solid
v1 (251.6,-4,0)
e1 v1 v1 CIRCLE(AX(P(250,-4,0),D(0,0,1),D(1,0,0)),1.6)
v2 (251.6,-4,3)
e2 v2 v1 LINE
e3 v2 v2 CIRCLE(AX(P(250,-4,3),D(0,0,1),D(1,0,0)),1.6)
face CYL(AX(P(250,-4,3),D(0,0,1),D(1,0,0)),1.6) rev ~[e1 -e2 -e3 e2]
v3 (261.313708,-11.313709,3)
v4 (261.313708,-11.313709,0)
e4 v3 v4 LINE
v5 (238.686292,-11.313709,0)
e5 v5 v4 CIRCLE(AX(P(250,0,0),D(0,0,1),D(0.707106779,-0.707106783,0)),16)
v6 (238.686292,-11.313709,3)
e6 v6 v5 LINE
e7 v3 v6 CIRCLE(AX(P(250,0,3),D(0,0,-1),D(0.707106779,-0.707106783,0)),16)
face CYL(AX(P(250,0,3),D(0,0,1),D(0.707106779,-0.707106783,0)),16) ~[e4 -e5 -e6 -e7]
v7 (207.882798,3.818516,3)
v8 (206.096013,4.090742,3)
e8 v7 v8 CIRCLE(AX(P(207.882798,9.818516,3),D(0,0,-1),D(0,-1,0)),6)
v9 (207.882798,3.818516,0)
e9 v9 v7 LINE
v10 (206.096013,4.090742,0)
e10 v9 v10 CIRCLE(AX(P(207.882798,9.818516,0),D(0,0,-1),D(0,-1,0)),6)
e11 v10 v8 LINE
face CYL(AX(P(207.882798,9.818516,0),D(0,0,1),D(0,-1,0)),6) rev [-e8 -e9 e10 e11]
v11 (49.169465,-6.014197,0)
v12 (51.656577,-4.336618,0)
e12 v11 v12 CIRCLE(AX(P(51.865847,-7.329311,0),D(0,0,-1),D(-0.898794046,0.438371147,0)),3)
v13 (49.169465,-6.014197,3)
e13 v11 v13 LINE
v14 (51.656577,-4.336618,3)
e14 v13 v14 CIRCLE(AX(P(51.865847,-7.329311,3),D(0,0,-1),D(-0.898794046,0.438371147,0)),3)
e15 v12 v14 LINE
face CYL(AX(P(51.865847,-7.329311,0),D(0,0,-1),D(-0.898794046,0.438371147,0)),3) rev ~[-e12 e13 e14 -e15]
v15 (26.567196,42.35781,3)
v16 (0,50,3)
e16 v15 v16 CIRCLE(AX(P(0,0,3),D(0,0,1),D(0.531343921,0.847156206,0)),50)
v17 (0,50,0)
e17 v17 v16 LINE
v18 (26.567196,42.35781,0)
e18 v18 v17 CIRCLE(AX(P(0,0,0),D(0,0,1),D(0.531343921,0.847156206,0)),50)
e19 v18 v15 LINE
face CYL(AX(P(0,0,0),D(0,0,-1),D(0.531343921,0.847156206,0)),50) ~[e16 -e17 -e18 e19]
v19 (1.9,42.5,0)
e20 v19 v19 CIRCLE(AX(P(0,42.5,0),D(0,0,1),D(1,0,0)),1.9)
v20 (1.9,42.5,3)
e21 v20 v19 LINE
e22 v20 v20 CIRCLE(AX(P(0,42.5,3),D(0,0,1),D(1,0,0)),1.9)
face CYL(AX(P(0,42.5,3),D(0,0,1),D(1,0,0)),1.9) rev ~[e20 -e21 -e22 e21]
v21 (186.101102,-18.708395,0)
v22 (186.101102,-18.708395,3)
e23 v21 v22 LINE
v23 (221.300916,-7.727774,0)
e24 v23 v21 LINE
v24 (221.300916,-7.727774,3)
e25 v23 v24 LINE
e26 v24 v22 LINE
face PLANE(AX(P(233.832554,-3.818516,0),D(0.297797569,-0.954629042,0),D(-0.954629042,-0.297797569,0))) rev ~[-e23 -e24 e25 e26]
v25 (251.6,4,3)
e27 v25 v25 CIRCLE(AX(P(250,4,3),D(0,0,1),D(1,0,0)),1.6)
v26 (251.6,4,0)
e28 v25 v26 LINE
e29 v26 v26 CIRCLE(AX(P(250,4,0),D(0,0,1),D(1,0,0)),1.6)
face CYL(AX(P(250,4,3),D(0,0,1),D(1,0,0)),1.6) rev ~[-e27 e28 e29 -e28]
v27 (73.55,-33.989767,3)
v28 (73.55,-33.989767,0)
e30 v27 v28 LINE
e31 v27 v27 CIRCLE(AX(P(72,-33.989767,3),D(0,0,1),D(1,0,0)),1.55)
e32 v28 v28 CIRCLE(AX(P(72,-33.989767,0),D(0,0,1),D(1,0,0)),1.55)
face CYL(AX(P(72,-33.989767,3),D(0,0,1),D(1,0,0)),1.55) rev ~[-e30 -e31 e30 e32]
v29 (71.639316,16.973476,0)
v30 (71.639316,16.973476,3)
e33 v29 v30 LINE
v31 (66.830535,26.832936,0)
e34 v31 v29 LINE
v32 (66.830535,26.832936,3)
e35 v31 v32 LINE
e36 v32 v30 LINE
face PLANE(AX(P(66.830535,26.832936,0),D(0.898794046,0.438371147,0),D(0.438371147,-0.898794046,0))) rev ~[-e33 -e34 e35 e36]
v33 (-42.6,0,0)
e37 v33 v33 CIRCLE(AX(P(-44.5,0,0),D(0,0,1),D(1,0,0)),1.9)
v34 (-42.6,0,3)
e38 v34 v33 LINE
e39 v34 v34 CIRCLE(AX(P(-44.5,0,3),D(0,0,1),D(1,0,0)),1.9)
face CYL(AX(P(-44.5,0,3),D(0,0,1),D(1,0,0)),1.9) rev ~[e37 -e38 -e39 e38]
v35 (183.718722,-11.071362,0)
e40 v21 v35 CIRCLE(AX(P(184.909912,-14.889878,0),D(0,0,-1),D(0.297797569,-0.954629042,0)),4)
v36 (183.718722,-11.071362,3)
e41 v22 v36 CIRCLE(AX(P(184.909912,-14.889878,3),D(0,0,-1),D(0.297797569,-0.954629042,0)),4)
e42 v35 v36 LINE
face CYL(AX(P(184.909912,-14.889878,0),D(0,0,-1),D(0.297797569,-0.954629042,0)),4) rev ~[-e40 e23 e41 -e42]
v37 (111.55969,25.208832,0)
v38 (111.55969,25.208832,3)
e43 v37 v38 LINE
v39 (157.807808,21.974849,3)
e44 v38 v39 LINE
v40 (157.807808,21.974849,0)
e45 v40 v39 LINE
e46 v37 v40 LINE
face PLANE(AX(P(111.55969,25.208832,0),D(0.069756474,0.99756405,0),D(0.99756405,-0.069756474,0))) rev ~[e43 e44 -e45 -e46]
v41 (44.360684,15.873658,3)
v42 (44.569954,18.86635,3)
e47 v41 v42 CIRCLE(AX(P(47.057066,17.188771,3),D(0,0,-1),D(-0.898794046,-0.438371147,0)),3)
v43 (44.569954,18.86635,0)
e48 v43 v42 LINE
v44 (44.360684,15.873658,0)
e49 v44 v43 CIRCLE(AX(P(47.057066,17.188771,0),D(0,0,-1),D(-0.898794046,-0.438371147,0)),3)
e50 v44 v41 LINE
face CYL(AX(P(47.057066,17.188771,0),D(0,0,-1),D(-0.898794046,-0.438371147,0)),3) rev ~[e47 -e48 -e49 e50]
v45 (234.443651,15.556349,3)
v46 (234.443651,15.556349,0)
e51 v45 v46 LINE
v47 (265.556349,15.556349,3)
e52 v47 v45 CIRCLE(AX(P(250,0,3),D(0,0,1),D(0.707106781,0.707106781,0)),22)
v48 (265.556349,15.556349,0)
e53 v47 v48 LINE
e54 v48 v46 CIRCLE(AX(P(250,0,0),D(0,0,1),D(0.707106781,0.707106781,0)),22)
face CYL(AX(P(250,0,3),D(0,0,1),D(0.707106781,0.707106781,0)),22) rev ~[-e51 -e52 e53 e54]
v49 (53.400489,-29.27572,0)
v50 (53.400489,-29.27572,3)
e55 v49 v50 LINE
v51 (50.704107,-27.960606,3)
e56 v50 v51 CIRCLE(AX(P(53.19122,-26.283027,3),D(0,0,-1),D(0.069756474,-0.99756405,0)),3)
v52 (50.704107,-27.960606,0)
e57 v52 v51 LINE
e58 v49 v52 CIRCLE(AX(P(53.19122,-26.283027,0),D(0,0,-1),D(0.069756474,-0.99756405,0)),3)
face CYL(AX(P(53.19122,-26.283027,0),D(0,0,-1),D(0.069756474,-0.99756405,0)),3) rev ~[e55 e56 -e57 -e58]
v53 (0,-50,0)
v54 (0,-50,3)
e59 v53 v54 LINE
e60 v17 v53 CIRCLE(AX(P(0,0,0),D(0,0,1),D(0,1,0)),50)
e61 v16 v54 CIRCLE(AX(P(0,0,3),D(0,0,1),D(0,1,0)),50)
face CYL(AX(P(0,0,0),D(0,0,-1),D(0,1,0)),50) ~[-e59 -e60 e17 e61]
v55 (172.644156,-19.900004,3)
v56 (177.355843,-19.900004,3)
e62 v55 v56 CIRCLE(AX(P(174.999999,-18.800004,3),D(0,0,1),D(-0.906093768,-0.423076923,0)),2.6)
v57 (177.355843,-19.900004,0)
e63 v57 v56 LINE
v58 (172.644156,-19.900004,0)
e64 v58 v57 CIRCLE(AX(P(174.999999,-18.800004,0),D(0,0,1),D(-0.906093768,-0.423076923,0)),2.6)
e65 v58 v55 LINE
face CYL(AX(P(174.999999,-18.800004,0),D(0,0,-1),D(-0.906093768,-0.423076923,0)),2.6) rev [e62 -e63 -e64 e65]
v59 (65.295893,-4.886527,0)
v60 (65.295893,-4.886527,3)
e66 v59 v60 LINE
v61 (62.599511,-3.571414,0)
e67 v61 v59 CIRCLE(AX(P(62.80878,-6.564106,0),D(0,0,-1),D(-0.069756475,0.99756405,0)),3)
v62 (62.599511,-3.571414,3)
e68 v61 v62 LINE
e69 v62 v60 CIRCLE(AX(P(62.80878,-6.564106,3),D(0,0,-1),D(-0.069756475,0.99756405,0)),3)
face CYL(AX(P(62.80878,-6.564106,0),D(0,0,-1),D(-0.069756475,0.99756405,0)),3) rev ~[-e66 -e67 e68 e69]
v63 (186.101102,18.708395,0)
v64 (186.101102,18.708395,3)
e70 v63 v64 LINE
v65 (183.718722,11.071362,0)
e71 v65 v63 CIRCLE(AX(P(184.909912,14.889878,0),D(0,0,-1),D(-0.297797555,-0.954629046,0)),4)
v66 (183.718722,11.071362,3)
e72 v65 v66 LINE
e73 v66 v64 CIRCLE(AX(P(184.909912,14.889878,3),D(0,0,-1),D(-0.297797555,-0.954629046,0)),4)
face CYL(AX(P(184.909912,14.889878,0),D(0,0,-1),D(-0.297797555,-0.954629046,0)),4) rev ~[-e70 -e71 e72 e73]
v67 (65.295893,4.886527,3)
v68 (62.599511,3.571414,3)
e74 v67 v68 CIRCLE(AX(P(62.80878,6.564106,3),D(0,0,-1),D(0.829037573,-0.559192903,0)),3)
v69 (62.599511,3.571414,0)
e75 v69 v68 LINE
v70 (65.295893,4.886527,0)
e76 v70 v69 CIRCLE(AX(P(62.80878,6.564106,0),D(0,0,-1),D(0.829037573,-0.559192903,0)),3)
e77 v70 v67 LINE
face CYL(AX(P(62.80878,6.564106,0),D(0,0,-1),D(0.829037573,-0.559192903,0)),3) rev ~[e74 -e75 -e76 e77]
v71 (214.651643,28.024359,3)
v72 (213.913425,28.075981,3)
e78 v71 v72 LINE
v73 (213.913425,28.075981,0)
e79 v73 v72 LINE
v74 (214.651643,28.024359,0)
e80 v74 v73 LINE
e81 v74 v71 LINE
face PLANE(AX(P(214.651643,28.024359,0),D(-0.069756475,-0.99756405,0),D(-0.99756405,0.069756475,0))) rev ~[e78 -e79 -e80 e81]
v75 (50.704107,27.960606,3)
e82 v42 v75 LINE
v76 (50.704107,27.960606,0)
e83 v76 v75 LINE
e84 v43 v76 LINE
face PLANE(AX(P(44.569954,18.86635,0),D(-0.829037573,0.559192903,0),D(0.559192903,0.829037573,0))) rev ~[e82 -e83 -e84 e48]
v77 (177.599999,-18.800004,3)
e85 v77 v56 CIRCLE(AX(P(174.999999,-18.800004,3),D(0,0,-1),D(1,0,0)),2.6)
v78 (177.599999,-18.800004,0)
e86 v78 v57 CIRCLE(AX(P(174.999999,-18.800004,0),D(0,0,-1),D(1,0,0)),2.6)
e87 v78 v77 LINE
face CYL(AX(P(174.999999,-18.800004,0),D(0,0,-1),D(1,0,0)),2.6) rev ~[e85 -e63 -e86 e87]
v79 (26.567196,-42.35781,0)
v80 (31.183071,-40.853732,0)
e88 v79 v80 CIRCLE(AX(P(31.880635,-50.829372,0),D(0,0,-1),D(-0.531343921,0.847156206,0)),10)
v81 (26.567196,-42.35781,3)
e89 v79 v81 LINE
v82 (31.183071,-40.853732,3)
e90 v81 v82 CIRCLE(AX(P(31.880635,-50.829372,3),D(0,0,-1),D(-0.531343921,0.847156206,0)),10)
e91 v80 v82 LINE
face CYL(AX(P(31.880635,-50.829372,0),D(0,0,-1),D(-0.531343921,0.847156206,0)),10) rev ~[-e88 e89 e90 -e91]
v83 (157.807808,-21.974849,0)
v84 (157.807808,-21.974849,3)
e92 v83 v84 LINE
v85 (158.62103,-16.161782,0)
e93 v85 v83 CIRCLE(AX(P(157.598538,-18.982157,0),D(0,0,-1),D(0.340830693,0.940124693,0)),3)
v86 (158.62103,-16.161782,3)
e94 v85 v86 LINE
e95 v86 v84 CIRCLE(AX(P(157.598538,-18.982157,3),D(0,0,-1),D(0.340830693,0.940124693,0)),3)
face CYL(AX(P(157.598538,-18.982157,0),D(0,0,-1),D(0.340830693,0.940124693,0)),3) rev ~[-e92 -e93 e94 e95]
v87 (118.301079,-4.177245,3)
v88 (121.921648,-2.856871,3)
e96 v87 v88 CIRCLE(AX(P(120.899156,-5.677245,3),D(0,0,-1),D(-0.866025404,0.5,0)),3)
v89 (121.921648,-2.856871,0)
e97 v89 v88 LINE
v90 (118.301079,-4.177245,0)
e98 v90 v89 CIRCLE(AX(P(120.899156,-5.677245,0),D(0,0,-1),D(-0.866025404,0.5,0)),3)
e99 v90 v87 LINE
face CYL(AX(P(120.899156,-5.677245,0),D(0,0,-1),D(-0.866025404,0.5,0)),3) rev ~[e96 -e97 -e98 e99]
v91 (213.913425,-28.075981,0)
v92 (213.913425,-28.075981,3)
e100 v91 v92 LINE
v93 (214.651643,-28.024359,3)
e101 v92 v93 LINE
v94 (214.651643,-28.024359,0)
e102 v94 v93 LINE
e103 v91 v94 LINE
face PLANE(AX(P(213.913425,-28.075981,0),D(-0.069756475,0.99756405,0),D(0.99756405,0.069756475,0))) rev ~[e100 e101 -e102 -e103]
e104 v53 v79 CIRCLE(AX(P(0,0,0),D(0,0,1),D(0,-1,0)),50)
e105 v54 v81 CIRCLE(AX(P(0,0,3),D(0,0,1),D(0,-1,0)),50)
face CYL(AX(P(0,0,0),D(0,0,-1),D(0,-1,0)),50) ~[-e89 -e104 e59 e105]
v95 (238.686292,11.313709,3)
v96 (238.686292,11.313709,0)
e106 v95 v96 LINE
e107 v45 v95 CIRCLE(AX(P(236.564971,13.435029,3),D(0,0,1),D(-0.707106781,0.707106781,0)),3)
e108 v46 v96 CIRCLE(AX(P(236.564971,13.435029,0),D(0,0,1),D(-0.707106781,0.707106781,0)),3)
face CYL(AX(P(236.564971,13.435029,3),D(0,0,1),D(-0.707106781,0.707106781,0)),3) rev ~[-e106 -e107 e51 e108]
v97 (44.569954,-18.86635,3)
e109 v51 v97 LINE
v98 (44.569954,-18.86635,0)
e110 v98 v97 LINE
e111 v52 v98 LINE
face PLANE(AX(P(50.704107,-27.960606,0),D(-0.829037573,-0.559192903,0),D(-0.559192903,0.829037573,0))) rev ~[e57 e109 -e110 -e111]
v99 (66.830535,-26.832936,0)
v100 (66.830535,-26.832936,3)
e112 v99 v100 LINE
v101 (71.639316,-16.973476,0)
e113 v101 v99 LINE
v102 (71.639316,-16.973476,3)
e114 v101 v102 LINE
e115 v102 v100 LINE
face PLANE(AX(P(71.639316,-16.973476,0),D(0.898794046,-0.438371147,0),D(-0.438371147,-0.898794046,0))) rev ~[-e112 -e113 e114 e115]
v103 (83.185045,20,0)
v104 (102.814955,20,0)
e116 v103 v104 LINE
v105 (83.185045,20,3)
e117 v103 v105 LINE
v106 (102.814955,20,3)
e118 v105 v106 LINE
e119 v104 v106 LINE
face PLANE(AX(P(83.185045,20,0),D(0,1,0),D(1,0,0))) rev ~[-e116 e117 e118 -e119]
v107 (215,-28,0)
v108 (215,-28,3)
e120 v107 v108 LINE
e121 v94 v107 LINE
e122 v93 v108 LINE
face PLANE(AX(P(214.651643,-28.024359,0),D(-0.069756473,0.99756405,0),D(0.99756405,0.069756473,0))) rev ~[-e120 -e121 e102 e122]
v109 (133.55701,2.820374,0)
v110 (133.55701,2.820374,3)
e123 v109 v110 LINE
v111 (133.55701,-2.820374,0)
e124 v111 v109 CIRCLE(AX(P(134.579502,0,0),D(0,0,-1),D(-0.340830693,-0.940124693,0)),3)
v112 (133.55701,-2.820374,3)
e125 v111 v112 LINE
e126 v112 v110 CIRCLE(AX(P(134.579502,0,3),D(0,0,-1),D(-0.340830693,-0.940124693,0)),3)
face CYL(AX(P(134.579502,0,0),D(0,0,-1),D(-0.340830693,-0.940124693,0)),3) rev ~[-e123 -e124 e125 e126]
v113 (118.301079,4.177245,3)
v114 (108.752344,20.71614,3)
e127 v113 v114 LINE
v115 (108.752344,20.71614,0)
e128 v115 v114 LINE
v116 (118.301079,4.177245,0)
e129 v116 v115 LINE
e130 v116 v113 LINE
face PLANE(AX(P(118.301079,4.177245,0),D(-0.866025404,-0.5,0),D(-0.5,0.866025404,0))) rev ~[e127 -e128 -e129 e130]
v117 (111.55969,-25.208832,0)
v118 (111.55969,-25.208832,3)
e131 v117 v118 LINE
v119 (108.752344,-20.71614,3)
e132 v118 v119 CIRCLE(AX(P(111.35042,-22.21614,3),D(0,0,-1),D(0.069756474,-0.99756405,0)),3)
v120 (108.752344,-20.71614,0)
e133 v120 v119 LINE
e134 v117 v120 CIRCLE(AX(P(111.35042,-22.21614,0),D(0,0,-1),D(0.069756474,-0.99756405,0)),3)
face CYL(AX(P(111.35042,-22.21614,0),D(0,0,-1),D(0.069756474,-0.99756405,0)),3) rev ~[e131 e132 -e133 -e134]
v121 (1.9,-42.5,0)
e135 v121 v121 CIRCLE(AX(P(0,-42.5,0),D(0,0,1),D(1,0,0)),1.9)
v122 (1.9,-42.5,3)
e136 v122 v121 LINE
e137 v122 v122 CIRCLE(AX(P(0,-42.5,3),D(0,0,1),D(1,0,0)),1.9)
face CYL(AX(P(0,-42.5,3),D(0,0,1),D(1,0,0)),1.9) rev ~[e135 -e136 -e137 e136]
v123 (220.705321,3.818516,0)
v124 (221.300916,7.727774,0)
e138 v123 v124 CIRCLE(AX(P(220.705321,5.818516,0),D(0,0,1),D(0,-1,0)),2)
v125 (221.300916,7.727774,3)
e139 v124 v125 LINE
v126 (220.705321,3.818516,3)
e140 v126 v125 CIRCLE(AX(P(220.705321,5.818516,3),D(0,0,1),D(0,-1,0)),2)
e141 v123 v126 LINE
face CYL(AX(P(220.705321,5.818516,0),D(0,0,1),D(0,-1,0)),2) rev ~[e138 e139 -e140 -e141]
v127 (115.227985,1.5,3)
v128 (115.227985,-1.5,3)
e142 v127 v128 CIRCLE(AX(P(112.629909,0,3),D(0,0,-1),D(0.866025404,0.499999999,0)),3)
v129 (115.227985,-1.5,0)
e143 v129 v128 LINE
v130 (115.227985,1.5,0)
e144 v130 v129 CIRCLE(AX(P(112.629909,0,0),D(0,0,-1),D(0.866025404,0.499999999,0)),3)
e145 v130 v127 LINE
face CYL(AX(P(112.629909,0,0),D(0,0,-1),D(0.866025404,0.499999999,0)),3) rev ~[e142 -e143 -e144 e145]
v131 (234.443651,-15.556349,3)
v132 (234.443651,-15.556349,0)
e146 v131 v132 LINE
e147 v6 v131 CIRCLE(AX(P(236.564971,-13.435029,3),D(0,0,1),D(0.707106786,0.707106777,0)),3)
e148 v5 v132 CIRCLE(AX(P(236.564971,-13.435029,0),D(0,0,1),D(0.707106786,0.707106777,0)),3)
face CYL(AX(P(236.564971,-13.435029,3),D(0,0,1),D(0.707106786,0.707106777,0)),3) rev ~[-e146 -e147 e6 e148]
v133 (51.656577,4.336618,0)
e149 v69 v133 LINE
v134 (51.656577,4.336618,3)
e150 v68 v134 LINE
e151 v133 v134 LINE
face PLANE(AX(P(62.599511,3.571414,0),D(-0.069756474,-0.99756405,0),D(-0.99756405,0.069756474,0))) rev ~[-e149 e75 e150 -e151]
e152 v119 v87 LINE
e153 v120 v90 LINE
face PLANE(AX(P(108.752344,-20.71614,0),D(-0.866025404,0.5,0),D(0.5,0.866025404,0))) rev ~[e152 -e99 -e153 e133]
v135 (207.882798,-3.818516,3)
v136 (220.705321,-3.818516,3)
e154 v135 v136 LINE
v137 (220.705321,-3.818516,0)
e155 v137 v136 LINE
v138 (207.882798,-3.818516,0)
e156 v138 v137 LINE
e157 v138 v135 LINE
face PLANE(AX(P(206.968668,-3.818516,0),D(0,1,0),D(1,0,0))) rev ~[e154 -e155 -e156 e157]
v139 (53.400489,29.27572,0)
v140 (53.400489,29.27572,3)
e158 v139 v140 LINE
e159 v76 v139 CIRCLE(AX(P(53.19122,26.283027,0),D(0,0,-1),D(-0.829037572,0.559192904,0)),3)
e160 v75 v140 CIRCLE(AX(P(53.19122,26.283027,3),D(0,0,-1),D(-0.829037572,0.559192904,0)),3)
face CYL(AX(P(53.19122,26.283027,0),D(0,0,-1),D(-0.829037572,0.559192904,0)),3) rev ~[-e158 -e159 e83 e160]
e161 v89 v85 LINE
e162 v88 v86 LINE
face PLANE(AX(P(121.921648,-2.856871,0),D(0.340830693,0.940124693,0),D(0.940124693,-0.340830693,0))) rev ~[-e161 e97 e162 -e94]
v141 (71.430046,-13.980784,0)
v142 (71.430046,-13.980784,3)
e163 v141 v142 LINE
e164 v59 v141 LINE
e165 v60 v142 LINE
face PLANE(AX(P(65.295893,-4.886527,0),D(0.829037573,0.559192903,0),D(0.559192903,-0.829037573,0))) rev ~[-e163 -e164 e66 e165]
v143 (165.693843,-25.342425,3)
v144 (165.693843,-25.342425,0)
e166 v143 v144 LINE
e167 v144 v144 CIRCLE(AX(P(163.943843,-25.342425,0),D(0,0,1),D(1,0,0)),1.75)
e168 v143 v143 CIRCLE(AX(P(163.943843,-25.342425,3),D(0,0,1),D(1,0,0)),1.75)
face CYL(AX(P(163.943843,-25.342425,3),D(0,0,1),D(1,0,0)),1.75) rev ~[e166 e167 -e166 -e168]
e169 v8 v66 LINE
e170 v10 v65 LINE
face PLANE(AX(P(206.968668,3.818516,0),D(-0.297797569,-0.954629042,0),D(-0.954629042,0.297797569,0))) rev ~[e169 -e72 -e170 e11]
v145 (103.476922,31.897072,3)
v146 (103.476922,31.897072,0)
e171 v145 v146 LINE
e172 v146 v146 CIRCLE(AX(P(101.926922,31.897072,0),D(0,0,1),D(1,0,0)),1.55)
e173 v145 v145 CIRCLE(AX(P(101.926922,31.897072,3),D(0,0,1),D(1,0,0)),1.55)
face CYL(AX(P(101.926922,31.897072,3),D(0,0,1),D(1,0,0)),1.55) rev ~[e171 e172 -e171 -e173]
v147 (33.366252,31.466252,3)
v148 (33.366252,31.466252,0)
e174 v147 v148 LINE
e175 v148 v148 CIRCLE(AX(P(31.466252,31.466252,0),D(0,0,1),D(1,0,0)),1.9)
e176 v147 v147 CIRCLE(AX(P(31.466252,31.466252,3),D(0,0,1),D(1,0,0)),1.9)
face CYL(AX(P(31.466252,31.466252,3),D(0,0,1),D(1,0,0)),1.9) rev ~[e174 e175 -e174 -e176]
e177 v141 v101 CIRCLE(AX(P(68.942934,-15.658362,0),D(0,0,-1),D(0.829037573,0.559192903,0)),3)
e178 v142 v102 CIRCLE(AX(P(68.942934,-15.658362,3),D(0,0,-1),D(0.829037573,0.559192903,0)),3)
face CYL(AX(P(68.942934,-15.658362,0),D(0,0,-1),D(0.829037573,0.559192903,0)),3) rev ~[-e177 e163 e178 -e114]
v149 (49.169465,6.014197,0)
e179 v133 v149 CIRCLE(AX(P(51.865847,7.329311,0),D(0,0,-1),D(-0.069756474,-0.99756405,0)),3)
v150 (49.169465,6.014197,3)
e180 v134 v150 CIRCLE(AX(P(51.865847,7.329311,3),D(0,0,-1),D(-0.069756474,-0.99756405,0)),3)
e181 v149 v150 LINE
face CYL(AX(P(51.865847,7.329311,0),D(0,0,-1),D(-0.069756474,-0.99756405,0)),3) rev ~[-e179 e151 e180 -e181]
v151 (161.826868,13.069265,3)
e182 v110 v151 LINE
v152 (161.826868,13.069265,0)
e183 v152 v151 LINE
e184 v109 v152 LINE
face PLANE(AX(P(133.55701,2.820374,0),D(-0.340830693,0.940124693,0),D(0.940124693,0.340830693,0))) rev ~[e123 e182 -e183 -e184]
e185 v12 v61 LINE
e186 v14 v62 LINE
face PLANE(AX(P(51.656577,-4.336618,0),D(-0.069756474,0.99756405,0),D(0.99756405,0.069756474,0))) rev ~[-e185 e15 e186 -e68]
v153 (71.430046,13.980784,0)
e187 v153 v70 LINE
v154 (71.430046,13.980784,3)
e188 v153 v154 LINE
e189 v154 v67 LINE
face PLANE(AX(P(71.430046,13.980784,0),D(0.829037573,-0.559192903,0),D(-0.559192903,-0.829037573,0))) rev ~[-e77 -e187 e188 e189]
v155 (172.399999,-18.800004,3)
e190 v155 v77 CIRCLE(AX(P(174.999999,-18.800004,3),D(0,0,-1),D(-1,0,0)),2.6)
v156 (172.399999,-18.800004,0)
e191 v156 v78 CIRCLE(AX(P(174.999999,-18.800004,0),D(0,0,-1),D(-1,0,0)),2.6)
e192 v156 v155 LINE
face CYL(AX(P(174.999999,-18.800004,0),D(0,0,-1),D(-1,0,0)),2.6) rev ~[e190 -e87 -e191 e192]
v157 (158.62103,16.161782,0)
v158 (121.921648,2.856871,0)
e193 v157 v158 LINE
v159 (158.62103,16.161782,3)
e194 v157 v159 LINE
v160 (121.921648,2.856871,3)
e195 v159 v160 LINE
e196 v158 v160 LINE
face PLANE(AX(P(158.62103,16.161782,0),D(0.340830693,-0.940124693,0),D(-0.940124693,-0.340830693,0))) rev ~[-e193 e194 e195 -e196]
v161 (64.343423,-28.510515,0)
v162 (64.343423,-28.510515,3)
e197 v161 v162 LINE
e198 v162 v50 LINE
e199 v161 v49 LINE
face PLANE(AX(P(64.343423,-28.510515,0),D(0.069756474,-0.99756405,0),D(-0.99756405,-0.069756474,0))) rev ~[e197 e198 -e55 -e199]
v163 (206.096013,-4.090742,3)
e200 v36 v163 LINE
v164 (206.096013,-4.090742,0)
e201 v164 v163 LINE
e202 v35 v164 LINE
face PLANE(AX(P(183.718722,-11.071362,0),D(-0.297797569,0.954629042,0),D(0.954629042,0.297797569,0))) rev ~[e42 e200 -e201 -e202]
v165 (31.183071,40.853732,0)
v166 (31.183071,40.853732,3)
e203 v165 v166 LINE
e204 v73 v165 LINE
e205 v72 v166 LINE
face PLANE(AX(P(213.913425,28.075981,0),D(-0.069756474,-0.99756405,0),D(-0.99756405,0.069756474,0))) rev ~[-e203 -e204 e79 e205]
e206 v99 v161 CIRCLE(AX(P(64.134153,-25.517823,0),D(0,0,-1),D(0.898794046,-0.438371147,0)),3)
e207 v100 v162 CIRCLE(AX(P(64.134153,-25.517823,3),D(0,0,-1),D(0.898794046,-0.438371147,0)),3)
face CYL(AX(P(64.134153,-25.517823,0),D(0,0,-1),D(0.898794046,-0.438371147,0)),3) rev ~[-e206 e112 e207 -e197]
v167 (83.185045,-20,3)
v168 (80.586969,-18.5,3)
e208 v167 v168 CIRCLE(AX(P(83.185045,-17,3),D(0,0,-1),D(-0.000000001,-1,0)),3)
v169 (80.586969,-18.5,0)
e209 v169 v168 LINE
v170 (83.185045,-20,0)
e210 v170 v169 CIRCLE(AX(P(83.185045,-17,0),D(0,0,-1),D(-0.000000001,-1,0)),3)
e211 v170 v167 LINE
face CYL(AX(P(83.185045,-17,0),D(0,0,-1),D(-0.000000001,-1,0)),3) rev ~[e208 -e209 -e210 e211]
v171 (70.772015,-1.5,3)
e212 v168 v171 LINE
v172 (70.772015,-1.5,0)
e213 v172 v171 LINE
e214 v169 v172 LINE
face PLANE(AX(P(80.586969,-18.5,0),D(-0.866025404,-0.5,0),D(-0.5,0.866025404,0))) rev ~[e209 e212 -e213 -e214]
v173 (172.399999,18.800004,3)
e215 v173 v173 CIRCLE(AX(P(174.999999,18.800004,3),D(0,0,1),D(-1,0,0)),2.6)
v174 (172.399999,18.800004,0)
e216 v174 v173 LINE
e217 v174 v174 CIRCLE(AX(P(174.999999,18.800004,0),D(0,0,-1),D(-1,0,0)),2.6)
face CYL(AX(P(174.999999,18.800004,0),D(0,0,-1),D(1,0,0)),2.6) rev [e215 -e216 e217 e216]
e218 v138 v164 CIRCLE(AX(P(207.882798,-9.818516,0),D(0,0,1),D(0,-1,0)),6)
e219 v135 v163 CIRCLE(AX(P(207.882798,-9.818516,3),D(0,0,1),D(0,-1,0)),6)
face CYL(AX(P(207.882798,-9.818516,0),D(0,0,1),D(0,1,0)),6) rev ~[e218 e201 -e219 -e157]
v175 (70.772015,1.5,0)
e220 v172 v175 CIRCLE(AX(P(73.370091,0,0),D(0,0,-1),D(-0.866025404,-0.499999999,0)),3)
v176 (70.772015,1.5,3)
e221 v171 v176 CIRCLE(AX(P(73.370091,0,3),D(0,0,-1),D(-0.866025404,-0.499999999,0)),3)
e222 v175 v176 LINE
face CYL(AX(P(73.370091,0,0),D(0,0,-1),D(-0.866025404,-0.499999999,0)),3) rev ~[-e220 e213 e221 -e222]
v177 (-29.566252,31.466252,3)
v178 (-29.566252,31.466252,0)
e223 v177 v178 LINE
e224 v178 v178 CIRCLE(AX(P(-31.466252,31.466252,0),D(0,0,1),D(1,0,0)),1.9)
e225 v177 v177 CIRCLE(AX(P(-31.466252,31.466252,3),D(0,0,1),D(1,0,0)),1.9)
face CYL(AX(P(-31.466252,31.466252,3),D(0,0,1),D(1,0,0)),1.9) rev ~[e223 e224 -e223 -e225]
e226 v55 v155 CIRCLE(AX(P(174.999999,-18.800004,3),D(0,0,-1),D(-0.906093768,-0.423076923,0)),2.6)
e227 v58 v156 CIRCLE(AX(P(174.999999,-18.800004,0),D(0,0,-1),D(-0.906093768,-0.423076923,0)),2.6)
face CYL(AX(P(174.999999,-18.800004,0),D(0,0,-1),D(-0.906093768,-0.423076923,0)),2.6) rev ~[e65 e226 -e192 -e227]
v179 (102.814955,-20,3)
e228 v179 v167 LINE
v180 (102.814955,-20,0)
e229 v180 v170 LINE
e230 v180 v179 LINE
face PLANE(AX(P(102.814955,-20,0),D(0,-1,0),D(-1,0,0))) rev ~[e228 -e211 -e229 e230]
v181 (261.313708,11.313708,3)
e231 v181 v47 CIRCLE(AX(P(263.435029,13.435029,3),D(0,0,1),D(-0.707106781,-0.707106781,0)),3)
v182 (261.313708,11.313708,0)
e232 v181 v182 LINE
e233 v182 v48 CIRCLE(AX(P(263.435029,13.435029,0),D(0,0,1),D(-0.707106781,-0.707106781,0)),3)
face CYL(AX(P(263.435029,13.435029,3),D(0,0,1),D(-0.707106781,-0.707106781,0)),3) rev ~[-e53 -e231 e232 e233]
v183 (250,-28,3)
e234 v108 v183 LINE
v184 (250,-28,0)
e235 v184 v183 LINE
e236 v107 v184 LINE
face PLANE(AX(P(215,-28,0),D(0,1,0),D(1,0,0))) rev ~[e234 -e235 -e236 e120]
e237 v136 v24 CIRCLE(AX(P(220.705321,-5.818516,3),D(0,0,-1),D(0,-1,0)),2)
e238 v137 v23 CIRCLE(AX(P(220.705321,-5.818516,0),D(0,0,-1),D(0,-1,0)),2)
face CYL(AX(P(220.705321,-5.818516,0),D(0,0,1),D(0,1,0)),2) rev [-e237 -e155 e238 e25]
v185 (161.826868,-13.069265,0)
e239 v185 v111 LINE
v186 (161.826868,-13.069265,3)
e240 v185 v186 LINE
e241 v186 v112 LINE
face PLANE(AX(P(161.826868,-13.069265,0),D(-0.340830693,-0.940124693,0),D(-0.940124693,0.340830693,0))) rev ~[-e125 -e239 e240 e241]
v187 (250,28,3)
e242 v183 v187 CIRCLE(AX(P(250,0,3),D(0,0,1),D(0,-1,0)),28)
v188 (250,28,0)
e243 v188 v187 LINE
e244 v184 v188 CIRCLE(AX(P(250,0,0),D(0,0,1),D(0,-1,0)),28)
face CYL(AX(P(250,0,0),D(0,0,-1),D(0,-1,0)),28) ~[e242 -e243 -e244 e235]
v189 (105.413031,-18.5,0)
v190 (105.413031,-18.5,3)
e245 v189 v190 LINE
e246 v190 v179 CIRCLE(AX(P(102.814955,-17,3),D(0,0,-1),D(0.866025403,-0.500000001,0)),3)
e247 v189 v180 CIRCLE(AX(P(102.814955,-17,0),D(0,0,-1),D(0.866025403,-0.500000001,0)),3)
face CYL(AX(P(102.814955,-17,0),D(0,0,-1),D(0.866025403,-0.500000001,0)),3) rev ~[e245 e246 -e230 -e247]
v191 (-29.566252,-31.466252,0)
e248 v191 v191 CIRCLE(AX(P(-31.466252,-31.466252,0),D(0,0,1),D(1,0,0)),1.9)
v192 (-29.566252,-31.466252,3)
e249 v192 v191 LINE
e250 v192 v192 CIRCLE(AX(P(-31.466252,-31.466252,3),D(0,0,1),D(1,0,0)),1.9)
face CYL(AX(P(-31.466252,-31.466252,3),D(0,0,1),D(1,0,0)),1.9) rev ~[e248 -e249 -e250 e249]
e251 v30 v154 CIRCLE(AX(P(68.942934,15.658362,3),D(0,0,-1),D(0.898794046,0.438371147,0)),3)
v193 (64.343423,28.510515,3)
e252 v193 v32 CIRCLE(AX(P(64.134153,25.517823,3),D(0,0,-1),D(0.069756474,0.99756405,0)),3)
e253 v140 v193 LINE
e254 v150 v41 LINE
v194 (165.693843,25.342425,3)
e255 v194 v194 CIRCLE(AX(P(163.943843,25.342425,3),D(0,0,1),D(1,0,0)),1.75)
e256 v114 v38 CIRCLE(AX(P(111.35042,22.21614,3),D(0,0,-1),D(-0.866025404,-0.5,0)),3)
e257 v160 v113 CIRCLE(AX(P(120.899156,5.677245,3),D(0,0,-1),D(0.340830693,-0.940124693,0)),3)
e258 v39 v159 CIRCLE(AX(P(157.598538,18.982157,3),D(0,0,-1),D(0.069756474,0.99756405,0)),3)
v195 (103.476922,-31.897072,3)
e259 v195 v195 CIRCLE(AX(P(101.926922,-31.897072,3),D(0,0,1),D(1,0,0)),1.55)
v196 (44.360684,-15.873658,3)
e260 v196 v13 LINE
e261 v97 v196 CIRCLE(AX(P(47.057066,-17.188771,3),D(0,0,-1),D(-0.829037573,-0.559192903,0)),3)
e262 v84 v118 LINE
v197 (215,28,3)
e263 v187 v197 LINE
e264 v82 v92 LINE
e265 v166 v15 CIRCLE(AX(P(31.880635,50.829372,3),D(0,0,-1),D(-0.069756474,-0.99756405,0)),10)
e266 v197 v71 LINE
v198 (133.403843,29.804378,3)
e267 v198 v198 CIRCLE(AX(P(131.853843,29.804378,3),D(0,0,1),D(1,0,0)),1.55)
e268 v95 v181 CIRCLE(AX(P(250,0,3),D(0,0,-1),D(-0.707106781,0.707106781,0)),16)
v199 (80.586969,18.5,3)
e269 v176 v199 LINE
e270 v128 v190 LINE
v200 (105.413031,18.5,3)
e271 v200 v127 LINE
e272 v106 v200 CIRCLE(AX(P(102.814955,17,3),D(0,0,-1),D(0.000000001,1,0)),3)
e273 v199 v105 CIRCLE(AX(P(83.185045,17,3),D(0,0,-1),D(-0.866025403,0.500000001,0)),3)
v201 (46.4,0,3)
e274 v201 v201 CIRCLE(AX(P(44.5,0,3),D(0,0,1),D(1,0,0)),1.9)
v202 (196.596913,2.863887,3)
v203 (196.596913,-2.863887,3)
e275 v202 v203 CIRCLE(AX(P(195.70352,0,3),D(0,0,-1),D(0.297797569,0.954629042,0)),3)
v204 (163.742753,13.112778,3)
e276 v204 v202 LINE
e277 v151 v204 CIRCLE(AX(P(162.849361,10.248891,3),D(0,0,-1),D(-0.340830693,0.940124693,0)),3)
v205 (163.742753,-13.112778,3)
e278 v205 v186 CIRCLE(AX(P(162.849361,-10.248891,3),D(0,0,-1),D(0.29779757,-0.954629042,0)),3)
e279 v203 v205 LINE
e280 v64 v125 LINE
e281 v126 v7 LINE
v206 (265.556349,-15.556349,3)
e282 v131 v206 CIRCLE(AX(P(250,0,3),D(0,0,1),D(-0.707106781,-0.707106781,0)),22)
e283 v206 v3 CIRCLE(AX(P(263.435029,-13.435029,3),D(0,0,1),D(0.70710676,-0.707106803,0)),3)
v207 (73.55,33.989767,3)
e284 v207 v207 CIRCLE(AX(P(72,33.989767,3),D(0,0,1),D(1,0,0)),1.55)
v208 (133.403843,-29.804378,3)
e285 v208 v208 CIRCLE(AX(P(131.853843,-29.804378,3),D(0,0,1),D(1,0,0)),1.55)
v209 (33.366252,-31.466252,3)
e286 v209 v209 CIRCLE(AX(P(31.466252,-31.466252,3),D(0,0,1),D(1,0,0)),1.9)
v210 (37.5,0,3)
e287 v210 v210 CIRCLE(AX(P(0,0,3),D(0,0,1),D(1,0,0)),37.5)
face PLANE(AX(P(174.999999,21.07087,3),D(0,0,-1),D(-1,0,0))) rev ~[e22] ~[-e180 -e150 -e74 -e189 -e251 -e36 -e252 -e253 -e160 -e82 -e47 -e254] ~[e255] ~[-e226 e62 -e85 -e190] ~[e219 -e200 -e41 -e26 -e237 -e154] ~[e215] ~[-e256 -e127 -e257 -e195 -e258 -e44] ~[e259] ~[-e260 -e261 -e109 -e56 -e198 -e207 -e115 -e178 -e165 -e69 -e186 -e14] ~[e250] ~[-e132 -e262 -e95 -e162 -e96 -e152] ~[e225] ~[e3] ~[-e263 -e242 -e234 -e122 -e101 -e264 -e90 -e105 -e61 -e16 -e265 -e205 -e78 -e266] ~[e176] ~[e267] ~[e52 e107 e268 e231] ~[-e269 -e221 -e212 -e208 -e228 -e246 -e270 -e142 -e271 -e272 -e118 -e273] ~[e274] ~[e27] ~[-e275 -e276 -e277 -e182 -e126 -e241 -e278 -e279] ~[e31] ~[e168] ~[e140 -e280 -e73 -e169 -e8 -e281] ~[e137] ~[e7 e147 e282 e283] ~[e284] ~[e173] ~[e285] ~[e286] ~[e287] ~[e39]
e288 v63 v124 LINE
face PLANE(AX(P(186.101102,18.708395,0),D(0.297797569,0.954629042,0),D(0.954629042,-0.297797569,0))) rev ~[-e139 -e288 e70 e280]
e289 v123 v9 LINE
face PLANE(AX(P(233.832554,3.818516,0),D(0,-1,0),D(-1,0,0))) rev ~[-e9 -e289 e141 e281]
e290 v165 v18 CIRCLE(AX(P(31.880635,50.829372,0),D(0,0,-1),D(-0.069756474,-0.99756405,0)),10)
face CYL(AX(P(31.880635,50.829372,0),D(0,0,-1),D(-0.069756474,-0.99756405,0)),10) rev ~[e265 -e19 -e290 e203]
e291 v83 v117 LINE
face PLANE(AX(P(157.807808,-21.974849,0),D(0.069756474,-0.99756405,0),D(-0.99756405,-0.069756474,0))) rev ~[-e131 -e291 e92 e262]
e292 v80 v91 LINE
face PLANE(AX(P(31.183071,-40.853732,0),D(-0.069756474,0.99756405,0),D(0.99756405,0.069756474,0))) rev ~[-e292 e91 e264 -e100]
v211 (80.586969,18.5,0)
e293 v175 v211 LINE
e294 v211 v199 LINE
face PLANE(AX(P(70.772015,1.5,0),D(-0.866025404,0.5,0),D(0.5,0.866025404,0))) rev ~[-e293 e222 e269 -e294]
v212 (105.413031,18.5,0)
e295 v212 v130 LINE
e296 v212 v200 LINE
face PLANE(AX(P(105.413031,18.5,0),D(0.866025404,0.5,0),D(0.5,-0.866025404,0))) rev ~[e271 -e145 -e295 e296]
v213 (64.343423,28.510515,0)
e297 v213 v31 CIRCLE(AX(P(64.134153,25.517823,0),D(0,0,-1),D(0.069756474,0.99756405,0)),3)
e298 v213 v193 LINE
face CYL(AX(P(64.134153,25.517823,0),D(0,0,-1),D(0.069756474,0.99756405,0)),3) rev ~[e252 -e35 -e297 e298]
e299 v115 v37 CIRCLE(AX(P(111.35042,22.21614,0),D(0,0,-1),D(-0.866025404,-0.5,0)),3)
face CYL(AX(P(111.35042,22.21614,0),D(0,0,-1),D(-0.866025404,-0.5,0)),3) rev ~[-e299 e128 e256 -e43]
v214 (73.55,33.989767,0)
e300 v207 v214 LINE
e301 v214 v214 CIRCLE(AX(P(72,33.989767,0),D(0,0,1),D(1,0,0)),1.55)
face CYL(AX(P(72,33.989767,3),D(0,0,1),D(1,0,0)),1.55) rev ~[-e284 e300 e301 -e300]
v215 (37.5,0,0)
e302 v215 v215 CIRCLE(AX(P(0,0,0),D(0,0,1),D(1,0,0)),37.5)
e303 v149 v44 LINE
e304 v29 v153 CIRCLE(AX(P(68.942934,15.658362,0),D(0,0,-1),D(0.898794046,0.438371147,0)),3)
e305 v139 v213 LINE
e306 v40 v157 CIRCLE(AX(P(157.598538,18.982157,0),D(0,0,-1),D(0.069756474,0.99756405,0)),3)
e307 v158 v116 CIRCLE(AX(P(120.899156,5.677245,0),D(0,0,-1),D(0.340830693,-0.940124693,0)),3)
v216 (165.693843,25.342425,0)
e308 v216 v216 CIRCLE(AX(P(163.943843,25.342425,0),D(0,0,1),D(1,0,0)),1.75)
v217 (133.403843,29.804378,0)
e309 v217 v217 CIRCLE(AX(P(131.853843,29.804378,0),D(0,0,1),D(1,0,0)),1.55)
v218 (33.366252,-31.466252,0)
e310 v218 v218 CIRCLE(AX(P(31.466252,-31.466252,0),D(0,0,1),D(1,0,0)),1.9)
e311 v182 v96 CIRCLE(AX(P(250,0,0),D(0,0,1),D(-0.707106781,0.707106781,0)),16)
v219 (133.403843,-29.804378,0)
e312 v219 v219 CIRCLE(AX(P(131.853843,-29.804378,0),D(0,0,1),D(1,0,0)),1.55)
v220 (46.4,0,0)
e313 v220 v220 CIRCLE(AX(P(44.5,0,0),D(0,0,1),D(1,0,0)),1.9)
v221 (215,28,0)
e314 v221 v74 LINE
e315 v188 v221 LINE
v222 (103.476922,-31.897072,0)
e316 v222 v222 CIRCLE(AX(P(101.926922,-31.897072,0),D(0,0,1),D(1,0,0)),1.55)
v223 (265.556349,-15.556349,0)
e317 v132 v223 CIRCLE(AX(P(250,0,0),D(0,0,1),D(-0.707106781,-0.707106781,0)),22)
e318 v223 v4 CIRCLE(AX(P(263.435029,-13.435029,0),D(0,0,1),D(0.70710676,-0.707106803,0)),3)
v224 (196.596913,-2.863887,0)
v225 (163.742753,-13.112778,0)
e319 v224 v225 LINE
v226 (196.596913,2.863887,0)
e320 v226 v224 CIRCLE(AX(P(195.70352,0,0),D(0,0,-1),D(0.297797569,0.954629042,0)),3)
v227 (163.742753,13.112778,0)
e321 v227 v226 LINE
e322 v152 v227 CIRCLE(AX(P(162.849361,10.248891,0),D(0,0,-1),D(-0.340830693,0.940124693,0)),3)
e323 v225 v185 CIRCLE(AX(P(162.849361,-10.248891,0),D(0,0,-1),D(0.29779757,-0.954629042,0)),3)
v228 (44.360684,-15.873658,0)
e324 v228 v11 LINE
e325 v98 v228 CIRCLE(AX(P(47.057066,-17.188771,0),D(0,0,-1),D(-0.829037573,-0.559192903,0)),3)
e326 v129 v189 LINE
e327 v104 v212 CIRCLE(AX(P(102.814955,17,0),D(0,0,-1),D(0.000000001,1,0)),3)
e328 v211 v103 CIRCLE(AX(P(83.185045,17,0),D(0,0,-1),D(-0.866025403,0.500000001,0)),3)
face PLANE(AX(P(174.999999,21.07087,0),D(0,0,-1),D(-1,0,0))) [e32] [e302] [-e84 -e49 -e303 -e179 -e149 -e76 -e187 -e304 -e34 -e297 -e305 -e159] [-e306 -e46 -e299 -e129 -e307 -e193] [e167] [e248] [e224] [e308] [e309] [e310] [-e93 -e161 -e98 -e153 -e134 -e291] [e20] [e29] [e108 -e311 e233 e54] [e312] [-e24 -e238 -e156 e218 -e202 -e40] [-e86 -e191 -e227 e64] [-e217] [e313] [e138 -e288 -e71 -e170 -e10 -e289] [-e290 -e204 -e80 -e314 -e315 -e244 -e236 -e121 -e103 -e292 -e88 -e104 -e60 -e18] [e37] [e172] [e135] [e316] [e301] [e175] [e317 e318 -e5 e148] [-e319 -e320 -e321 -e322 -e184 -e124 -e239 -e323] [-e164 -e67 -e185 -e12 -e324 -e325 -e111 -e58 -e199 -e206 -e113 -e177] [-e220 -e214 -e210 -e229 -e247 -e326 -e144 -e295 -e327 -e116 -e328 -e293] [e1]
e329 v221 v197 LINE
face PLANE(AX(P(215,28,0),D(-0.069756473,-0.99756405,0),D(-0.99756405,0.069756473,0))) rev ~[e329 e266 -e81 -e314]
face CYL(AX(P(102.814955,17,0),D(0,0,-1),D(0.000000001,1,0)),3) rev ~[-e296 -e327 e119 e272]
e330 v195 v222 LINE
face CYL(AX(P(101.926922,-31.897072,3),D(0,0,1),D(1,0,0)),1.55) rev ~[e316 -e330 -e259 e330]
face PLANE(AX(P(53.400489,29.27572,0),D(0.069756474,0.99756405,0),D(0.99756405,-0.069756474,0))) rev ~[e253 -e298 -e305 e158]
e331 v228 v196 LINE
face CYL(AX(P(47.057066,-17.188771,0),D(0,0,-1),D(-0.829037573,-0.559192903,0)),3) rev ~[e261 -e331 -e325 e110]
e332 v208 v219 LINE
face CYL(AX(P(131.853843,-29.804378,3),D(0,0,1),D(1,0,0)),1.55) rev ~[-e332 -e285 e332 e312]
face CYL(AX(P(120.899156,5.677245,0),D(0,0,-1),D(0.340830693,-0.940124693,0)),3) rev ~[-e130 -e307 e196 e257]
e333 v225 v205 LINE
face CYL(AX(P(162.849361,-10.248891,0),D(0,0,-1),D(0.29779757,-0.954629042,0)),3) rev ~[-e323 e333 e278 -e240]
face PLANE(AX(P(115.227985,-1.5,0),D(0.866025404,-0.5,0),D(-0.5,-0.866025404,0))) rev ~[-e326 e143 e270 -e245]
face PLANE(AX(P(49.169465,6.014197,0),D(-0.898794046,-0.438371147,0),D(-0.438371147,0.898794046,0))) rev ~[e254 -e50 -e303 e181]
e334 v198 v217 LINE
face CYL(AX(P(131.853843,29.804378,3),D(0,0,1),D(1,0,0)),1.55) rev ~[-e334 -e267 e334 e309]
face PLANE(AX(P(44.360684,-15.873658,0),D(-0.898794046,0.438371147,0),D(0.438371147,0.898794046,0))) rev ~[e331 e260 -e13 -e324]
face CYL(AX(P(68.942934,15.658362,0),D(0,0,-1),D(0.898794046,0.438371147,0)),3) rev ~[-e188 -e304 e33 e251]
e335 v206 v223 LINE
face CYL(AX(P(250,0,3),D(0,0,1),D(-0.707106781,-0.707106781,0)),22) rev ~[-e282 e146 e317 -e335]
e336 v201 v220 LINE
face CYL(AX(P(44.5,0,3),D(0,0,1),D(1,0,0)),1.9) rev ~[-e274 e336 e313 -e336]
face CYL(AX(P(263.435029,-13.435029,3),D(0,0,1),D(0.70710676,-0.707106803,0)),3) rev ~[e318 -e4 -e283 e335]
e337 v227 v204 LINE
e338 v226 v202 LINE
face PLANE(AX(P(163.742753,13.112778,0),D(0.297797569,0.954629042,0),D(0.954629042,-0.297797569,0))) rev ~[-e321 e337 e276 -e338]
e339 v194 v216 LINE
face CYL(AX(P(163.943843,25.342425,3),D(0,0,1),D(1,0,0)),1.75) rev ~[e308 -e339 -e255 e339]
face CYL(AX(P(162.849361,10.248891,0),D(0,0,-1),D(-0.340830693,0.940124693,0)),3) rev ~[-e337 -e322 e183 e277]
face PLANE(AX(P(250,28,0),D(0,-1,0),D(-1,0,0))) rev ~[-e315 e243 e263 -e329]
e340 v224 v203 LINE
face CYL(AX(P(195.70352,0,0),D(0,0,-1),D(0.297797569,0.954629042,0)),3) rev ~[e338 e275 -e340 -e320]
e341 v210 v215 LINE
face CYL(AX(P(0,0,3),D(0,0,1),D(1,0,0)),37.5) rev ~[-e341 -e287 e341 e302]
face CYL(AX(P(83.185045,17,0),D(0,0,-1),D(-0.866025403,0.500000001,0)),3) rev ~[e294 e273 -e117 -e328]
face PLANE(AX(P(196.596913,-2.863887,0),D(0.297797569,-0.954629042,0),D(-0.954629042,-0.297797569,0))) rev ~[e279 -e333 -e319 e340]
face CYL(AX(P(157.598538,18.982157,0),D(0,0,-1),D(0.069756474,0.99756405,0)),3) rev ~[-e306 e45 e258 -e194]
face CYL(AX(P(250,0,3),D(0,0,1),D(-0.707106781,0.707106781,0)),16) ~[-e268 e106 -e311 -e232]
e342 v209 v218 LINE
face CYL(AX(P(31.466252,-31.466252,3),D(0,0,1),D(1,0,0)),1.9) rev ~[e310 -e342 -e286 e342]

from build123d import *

# Parameters (mm, degrees)
EXTRUDE_1_DEPTH      = 3
SKETCH_3_R           = 1.6
CUT_EXTRUDE_2_DEPTH  = 10
SKETCH_5_R           = 1.55
CUT_EXTRUDE_4_DEPTH  = 10
CUT_EXTRUDE_7_DEPTH  = 9
SKETCH_9_R           = 2.6
CUT_EXTRUDE_8_DEPTH  = 26.2
CUT_EXTRUDE_9_DEPTH  = 10
SKETCH_2_R           = 37.5
SKETCH_2_R_2         = 1.9
CUT_EXTRUDE_12_DEPTH = 10
SKETCH_13_R          = 1.75
CUT_EXTRUDE_13_DEPTH = 10
EXTRUDE_3_DEPTH      = 3
CUT_EXTRUDE_17_DEPTH = 3
CUT_EXTRUDE_20_DEPTH = 58
FILLET_2_R           = 2
FILLET_3_R           = 6


with BuildPart() as part:
    # 草图1 → 凸台-拉伸1 (new body)
    with BuildSketch(Plane.XY):
        with BuildLine():
            ThreePointArc((250, -28), (278, 0), (250, 28))
            Line((250, 28), (215.69841539, 28))
            Line((215.69841539, 28), (215.349207695, 28))
            Line((215.349207695, 28), (215, 28))
            Line((215, 28), (214.651642957, 28.024359497))
            Line((214.651642957, 28.024359497), (213.91342496, 28.075980729))
            Line((213.91342496, 28.075980729), (31.183070535, 40.853731859))
            ThreePointArc((31.183070535, 40.853731859), (28.782473703, 41.321407548), (26.56719606, 42.357810301))
            ThreePointArc((26.56719606, 42.357810301), (13.822255332, 48.051485487), (0, 50))
            ThreePointArc((0, 50), (-50, 0), (0, -50))
            ThreePointArc((0, -50), (13.822255332, -48.051485487), (26.56719606, -42.357810301))
            ThreePointArc((26.56719606, -42.357810301), (28.782473703, -41.321407548), (31.183070535, -40.853731859))
            Line((31.183070535, -40.853731859), (213.91342496, -28.075980729))
            Line((213.91342496, -28.075980729), (214.651642957, -28.024359497))
            Line((214.651642957, -28.024359497), (215, -28))
            Line((215, -28), (215.349207695, -28))
            Line((215.349207695, -28), (215.69841539, -28))
            Line((215.69841539, -28), (250, -28))
        make_face()
    extrude(amount=EXTRUDE_1_DEPTH)

    # 草图3 → 切除-拉伸2 (cut)
    with BuildSketch(Plane.XY.offset(3)):
        with Locations((250, 4)):
            Circle(SKETCH_3_R)
        with Locations((250, -4)):
            Circle(SKETCH_3_R)
    extrude(amount=-CUT_EXTRUDE_2_DEPTH, mode=Mode.SUBTRACT)

    # 草图5 → 切除-拉伸4 (cut)
    with BuildSketch(Plane.XY.offset(3)):
        with Locations((72, 33.989766516)):
            Circle(SKETCH_5_R)
        with Locations((101.926921508, 31.897072303)):
            Circle(SKETCH_5_R)
        with Locations((131.853843016, 29.804378091)):
            Circle(SKETCH_5_R)
        with Locations((131.853843016, -29.804378091)):
            Circle(SKETCH_5_R)
        with Locations((101.926921508, -31.897072303)):
            Circle(SKETCH_5_R)
        with Locations((72, -33.989766516)):
            Circle(SKETCH_5_R)
    extrude(amount=-CUT_EXTRUDE_4_DEPTH, mode=Mode.SUBTRACT)

    # 草图8 → 切除-拉伸7 (cut)
    with BuildSketch(Plane.XY.offset(3)):
        with BuildLine():
            ThreePointArc((238.686291502, 11.3137085), (250, 16), (261.313708499, 11.313708499))
            ThreePointArc((261.313708499, 11.313708499), (265.556349186, 11.313708499), (265.556349186, 15.556349186))
            ThreePointArc((265.556349186, 15.556349186), (250, 22), (234.443650814, 15.556349186))
            ThreePointArc((234.443650814, 15.556349186), (234.443650814, 11.313708499), (238.686291502, 11.3137085))
        make_face()
        with BuildLine():
            ThreePointArc((234.443650814, -15.556349186), (249.999999954, -22), (265.556349121, -15.556349251))
            ThreePointArc((265.556349121, -15.556349251), (265.556349203, -11.313708516), (261.313708468, -11.31370853))
            ThreePointArc((261.313708468, -11.31370853), (249.999999987, -16), (238.686291514, -11.313708512))
            ThreePointArc((238.686291514, -11.313708512), (234.44365082, -11.313708493), (234.443650814, -15.556349186))
        make_face()
    extrude(amount=-CUT_EXTRUDE_7_DEPTH, mode=Mode.SUBTRACT)

    # 草图9 → 切除-拉伸8 (cut)
    with BuildSketch(Plane(origin=(0, 0, 0), x_dir=(-1, 0, 0), z_dir=(0, 0, -1))):
        with Locations((-174.999999373, 21.000004015)):
            Circle(SKETCH_9_R)
        with Locations((-174.999999373, -21.000004015)):
            Circle(SKETCH_9_R)
    extrude(amount=-CUT_EXTRUDE_8_DEPTH, mode=Mode.SUBTRACT)

    # 草图10 → 切除-拉伸9 (cut)
    with BuildSketch(Plane(origin=(0, 0, 0), x_dir=(-1, 0, 0), z_dir=(0, 0, -1))):
        with BuildLine():
            Line((-172.399999373, 21.000004015), (-172.399999373, 5.000004015))
            ThreePointArc((-172.399999373, 5.000004015), (-174.999999373, 2.400004015), (-177.599999373, 5.000004015))
            Line((-177.599999373, 5.000004015), (-177.599999373, 21.000004015))
            ThreePointArc((-177.599999373, 21.000004015), (-174.999999373, 23.600004015), (-172.399999373, 21.000004015))
        make_face()
    extrude(amount=-CUT_EXTRUDE_9_DEPTH, mode=Mode.SUBTRACT)

    # 草图2 → 切除-拉伸12 (cut)
    with BuildSketch(Plane.XY.offset(3)):
        Circle(SKETCH_2_R)
        with Locations((0, -42.5)):
            Circle(SKETCH_2_R_2)
        with Locations((-44.5, 0)):
            Circle(SKETCH_2_R_2)
        with Locations((-31.466251763, 31.466251763)):
            Circle(SKETCH_2_R_2)
        with Locations((0, 42.5)):
            Circle(SKETCH_2_R_2)
        with Locations((31.466251763, 31.466251763)):
            Circle(SKETCH_2_R_2)
        with Locations((44.5, 0)):
            Circle(SKETCH_2_R_2)
        with Locations((31.466251763, -31.466251763)):
            Circle(SKETCH_2_R_2)
        with Locations((-31.466251763, -31.466251763)):
            Circle(SKETCH_2_R_2)
    extrude(amount=-CUT_EXTRUDE_12_DEPTH, mode=Mode.SUBTRACT)

    # 草图13 → 切除-拉伸13 (cut)
    with BuildSketch(Plane.XY.offset(3)):
        with Locations((163.943843016, 25.342425399)):
            Circle(SKETCH_13_R)
        with Locations((163.943843016, -25.342425399)):
            Circle(SKETCH_13_R)
    extrude(amount=-CUT_EXTRUDE_13_DEPTH, mode=Mode.SUBTRACT)

    # 草图14 → 凸台-拉伸3 (add)
    with BuildSketch(Plane(origin=(0, 0, 0), x_dir=(-1, 0, 0), z_dir=(0, 0, -1))):
        with BuildLine():
            ThreePointArc((-172.399999373, 21.000004015), (-174.999999373, 23.600004015), (-177.599999373, 21.000004015))
            Line((-177.599999373, 21.000004015), (-177.599999373, 18.800004015))
            ThreePointArc((-177.599999373, 18.800004015), (-174.999999373, 21.400004015), (-172.399999373, 18.800004015))
            Line((-172.399999373, 18.800004015), (-172.399999373, 21.000004015))
        make_face()
        with BuildLine():
            ThreePointArc((-172.399999373, 18.800004015), (-174.999999373, 16.200004015), (-177.599999373, 18.800004015))
            Line((-177.599999373, 18.800004015), (-177.599999373, 5.000004015))
            ThreePointArc((-177.599999373, 5.000004015), (-174.999999373, 2.400004015), (-172.399999373, 5.000004015))
            Line((-172.399999373, 5.000004015), (-172.399999373, 18.800004015))
        make_face()
        with BuildLine():
            ThreePointArc((-177.355843171, -19.900004015), (-174.999999373, -23.600004015), (-172.644155575, -19.900004015))
            ThreePointArc((-172.644155575, -19.900004015), (-174.999999373, -21.400004015), (-177.355843171, -19.900004015))
        make_face()
    extrude(amount=-EXTRUDE_3_DEPTH)

    # 草图14<6> → 切除-拉伸17 (cut)
    with BuildSketch(Plane(origin=(0, 0, 0), x_dir=(-1, 0, 0), z_dir=(0, 0, -1))):
        with BuildLine():
            ThreePointArc((-172.399999373, -18.800004015), (-174.999999373, -16.200004015), (-177.599999373, -18.800004015))
            ThreePointArc((-177.599999373, -18.800004015), (-177.538226498, -19.363389374), (-177.355843171, -19.900004015))
            ThreePointArc((-177.355843171, -19.900004015), (-174.999999373, -18.400004015), (-172.644155575, -19.900004015))
            ThreePointArc((-172.644155575, -19.900004015), (-172.461772248, -19.363389374), (-172.399999373, -18.800004015))
        make_face()
    extrude(amount=-CUT_EXTRUDE_17_DEPTH, mode=Mode.SUBTRACT)

    # 草图15 → 切除-拉伸20 (cut)
    with BuildSketch(Plane(origin=(0, 0, 0), x_dir=(-1, 0, 0), z_dir=(0, 0, -1))):
        with BuildLine():
            ThreePointArc((-44.360684275, 15.873657787), (-44.064374263, 17.398040649), (-44.569953696, 18.866349938))
            Line((-44.569953696, 18.866349938), (-50.70410699, 27.960606186))
            ThreePointArc((-50.70410699, 27.960606186), (-51.876106267, 28.979409614), (-53.400489129, 29.275719626))
            Line((-53.400489129, 29.275719626), (-64.343422715, 28.510515167))
            ThreePointArc((-64.343422715, 28.510515167), (-65.811732004, 28.004935734), (-66.830535433, 26.832936457))
            Line((-66.830535433, 26.832936457), (-71.639315725, 16.97347575))
            ThreePointArc((-71.639315725, 16.97347575), (-71.935625737, 15.449092888), (-71.430046304, 13.980783599))
            Line((-71.430046304, 13.980783599), (-65.29589301, 4.886527351))
            ThreePointArc((-65.29589301, 4.886527351), (-64.123893733, 3.867723922), (-62.599510871, 3.571413911))
            Line((-62.599510871, 3.571413911), (-51.656577285, 4.33661837))
            ThreePointArc((-51.656577285, 4.33661837), (-50.188267996, 4.842197803), (-49.169464567, 6.01419708))
            Line((-49.169464567, 6.01419708), (-44.360684275, 15.873657787))
        make_face()
        with BuildLine():
            ThreePointArc((-44.569953696, -18.866349938), (-44.064374263, -17.398040649), (-44.360684275, -15.873657787))
            Line((-44.360684275, -15.873657787), (-49.169464567, -6.01419708))
            ThreePointArc((-49.169464567, -6.01419708), (-50.188267996, -4.842197803), (-51.656577285, -4.33661837))
            Line((-51.656577285, -4.33661837), (-62.599510871, -3.571413911))
            ThreePointArc((-62.599510871, -3.571413911), (-64.123893733, -3.867723922), (-65.29589301, -4.886527351))
            Line((-65.29589301, -4.886527351), (-71.430046304, -13.980783599))
            ThreePointArc((-71.430046304, -13.980783599), (-71.935625737, -15.449092888), (-71.639315725, -16.97347575))
            Line((-71.639315725, -16.97347575), (-66.830535433, -26.832936457))
            ThreePointArc((-66.830535433, -26.832936457), (-65.811732004, -28.004935734), (-64.343422715, -28.510515167))
            Line((-64.343422715, -28.510515167), (-53.400489129, -29.275719626))
            ThreePointArc((-53.400489129, -29.275719626), (-51.876106267, -28.979409614), (-50.70410699, -27.960606186))
            Line((-50.70410699, -27.960606186), (-44.569953696, -18.866349938))
        make_face()
        with BuildLine():
            ThreePointArc((-70.772014636, -1.5), (-70.370090848, 0), (-70.772014636, 1.5))
            Line((-70.772014636, 1.5), (-80.586969212, 18.5))
            ThreePointArc((-80.586969212, 18.5), (-81.685045424, 19.598076211), (-83.185045424, 20))
            Line((-83.185045424, 20), (-102.814954576, 20))
            ThreePointArc((-102.814954576, 20), (-104.314954576, 19.598076211), (-105.413030788, 18.5))
            Line((-105.413030788, 18.5), (-115.227985364, 1.5))
            ThreePointArc((-115.227985364, 1.5), (-115.629909152, 0), (-115.227985364, -1.5))
            Line((-115.227985364, -1.5), (-105.413030788, -18.5))
            ThreePointArc((-105.413030788, -18.5), (-104.314954576, -19.598076211), (-102.814954576, -20))
            Line((-102.814954576, -20), (-83.185045424, -20))
            ThreePointArc((-83.185045424, -20), (-81.685045424, -19.598076211), (-80.586969212, -18.5))
            Line((-80.586969212, -18.5), (-70.772014636, -1.5))
        make_face()
        with BuildLine():
            Line((-111.559689545, 25.208832156), (-157.807807687, 21.974848696))
            ThreePointArc((-157.807807687, 21.974848696), (-160.569606061, 19.397795995), (-158.621030344, 16.161782465))
            Line((-158.621030344, 16.161782465), (-121.921647755, 2.856870801))
            ThreePointArc((-121.921647755, 2.856870801), (-119.871311687, 2.85881682), (-118.301079465, 4.17724488))
            Line((-118.301079465, 4.17724488), (-108.752343913, 20.716140005))
            ThreePointArc((-108.752343913, 20.716140005), (-108.806275836, 23.805897798), (-111.559689545, 25.208832156))
        make_face()
        with BuildLine():
            ThreePointArc((-118.301079465, -4.17724488), (-119.871311687, -2.85881682), (-121.921647755, -2.856870801))
            Line((-121.921647755, -2.856870801), (-158.621030344, -16.161782465))
            ThreePointArc((-158.621030344, -16.161782465), (-160.569606061, -19.397795995), (-157.807807687, -21.974848696))
            Line((-157.807807687, -21.974848696), (-111.559689545, -25.208832156))
            ThreePointArc((-111.559689545, -25.208832156), (-108.806275836, -23.805897798), (-108.752343913, -20.716140005))
            Line((-108.752343913, -20.716140005), (-118.301079465, -4.17724488))
        make_face()
        with BuildLine():
            Line((-133.557009868, 2.82037408), (-161.826868428, 13.069265052))
            ThreePointArc((-161.826868428, 13.069265052), (-162.781242901, 13.248117538), (-163.742753214, 13.112778098))
            Line((-163.742753214, 13.112778098), (-196.596913162, 2.863887126))
            ThreePointArc((-196.596913162, 2.863887126), (-198.703520455, 0), (-196.596913162, -2.863887126))
            Line((-196.596913162, -2.863887126), (-163.742753214, -13.112778098))
            ThreePointArc((-163.742753214, -13.112778098), (-162.781242901, -13.248117538), (-161.826868428, -13.069265052))
            Line((-161.826868428, -13.069265052), (-133.557009868, -2.82037408))
            ThreePointArc((-133.557009868, -2.82037408), (-131.579501947, 0), (-133.557009868, 2.82037408))
        make_face()
        with BuildLine():
            Line((-183.718721561, -11.071362292), (-206.968668045, -3.818516168))
            Line((-206.968668045, -3.818516168), (-233.832554213, -3.818516168))
            Line((-233.832554213, -3.818516168), (-186.101102114, -18.708394627))
            ThreePointArc((-186.101102114, -18.708394627), (-181.09139567, -16.081068736), (-183.718721561, -11.071362292))
        make_face()
        with BuildLine():
            Line((-233.832554213, 3.818516168), (-206.968668045, 3.818516168))
            Line((-206.968668045, 3.818516168), (-183.718721561, 11.071362292))
            ThreePointArc((-183.718721561, 11.071362292), (-181.091395614, 16.081068754), (-186.101102114, 18.708394627))
            Line((-186.101102114, 18.708394627), (-233.832554213, 3.818516168))
        make_face()
    extrude(amount=-CUT_EXTRUDE_20_DEPTH, mode=Mode.SUBTRACT)

    # 圆角2
    fillet_2_edges = [part.edges().sort_by_distance(p)[0] for p in [
        (233.832554213, -3.818516168, 1.5),
        (233.832554213, 3.818516168, 1.5),
    ]]
    fillet(fillet_2_edges, radius=FILLET_2_R)

    # 圆角3
    fillet_3_edges = [part.edges().sort_by_distance(p)[0] for p in [
        (206.968668045, -3.818516168, 1.5),
        (206.968668045, 3.818516168, 1.5),
    ]]
    fillet(fillet_3_edges, radius=FILLET_3_R)


solid = part.part
